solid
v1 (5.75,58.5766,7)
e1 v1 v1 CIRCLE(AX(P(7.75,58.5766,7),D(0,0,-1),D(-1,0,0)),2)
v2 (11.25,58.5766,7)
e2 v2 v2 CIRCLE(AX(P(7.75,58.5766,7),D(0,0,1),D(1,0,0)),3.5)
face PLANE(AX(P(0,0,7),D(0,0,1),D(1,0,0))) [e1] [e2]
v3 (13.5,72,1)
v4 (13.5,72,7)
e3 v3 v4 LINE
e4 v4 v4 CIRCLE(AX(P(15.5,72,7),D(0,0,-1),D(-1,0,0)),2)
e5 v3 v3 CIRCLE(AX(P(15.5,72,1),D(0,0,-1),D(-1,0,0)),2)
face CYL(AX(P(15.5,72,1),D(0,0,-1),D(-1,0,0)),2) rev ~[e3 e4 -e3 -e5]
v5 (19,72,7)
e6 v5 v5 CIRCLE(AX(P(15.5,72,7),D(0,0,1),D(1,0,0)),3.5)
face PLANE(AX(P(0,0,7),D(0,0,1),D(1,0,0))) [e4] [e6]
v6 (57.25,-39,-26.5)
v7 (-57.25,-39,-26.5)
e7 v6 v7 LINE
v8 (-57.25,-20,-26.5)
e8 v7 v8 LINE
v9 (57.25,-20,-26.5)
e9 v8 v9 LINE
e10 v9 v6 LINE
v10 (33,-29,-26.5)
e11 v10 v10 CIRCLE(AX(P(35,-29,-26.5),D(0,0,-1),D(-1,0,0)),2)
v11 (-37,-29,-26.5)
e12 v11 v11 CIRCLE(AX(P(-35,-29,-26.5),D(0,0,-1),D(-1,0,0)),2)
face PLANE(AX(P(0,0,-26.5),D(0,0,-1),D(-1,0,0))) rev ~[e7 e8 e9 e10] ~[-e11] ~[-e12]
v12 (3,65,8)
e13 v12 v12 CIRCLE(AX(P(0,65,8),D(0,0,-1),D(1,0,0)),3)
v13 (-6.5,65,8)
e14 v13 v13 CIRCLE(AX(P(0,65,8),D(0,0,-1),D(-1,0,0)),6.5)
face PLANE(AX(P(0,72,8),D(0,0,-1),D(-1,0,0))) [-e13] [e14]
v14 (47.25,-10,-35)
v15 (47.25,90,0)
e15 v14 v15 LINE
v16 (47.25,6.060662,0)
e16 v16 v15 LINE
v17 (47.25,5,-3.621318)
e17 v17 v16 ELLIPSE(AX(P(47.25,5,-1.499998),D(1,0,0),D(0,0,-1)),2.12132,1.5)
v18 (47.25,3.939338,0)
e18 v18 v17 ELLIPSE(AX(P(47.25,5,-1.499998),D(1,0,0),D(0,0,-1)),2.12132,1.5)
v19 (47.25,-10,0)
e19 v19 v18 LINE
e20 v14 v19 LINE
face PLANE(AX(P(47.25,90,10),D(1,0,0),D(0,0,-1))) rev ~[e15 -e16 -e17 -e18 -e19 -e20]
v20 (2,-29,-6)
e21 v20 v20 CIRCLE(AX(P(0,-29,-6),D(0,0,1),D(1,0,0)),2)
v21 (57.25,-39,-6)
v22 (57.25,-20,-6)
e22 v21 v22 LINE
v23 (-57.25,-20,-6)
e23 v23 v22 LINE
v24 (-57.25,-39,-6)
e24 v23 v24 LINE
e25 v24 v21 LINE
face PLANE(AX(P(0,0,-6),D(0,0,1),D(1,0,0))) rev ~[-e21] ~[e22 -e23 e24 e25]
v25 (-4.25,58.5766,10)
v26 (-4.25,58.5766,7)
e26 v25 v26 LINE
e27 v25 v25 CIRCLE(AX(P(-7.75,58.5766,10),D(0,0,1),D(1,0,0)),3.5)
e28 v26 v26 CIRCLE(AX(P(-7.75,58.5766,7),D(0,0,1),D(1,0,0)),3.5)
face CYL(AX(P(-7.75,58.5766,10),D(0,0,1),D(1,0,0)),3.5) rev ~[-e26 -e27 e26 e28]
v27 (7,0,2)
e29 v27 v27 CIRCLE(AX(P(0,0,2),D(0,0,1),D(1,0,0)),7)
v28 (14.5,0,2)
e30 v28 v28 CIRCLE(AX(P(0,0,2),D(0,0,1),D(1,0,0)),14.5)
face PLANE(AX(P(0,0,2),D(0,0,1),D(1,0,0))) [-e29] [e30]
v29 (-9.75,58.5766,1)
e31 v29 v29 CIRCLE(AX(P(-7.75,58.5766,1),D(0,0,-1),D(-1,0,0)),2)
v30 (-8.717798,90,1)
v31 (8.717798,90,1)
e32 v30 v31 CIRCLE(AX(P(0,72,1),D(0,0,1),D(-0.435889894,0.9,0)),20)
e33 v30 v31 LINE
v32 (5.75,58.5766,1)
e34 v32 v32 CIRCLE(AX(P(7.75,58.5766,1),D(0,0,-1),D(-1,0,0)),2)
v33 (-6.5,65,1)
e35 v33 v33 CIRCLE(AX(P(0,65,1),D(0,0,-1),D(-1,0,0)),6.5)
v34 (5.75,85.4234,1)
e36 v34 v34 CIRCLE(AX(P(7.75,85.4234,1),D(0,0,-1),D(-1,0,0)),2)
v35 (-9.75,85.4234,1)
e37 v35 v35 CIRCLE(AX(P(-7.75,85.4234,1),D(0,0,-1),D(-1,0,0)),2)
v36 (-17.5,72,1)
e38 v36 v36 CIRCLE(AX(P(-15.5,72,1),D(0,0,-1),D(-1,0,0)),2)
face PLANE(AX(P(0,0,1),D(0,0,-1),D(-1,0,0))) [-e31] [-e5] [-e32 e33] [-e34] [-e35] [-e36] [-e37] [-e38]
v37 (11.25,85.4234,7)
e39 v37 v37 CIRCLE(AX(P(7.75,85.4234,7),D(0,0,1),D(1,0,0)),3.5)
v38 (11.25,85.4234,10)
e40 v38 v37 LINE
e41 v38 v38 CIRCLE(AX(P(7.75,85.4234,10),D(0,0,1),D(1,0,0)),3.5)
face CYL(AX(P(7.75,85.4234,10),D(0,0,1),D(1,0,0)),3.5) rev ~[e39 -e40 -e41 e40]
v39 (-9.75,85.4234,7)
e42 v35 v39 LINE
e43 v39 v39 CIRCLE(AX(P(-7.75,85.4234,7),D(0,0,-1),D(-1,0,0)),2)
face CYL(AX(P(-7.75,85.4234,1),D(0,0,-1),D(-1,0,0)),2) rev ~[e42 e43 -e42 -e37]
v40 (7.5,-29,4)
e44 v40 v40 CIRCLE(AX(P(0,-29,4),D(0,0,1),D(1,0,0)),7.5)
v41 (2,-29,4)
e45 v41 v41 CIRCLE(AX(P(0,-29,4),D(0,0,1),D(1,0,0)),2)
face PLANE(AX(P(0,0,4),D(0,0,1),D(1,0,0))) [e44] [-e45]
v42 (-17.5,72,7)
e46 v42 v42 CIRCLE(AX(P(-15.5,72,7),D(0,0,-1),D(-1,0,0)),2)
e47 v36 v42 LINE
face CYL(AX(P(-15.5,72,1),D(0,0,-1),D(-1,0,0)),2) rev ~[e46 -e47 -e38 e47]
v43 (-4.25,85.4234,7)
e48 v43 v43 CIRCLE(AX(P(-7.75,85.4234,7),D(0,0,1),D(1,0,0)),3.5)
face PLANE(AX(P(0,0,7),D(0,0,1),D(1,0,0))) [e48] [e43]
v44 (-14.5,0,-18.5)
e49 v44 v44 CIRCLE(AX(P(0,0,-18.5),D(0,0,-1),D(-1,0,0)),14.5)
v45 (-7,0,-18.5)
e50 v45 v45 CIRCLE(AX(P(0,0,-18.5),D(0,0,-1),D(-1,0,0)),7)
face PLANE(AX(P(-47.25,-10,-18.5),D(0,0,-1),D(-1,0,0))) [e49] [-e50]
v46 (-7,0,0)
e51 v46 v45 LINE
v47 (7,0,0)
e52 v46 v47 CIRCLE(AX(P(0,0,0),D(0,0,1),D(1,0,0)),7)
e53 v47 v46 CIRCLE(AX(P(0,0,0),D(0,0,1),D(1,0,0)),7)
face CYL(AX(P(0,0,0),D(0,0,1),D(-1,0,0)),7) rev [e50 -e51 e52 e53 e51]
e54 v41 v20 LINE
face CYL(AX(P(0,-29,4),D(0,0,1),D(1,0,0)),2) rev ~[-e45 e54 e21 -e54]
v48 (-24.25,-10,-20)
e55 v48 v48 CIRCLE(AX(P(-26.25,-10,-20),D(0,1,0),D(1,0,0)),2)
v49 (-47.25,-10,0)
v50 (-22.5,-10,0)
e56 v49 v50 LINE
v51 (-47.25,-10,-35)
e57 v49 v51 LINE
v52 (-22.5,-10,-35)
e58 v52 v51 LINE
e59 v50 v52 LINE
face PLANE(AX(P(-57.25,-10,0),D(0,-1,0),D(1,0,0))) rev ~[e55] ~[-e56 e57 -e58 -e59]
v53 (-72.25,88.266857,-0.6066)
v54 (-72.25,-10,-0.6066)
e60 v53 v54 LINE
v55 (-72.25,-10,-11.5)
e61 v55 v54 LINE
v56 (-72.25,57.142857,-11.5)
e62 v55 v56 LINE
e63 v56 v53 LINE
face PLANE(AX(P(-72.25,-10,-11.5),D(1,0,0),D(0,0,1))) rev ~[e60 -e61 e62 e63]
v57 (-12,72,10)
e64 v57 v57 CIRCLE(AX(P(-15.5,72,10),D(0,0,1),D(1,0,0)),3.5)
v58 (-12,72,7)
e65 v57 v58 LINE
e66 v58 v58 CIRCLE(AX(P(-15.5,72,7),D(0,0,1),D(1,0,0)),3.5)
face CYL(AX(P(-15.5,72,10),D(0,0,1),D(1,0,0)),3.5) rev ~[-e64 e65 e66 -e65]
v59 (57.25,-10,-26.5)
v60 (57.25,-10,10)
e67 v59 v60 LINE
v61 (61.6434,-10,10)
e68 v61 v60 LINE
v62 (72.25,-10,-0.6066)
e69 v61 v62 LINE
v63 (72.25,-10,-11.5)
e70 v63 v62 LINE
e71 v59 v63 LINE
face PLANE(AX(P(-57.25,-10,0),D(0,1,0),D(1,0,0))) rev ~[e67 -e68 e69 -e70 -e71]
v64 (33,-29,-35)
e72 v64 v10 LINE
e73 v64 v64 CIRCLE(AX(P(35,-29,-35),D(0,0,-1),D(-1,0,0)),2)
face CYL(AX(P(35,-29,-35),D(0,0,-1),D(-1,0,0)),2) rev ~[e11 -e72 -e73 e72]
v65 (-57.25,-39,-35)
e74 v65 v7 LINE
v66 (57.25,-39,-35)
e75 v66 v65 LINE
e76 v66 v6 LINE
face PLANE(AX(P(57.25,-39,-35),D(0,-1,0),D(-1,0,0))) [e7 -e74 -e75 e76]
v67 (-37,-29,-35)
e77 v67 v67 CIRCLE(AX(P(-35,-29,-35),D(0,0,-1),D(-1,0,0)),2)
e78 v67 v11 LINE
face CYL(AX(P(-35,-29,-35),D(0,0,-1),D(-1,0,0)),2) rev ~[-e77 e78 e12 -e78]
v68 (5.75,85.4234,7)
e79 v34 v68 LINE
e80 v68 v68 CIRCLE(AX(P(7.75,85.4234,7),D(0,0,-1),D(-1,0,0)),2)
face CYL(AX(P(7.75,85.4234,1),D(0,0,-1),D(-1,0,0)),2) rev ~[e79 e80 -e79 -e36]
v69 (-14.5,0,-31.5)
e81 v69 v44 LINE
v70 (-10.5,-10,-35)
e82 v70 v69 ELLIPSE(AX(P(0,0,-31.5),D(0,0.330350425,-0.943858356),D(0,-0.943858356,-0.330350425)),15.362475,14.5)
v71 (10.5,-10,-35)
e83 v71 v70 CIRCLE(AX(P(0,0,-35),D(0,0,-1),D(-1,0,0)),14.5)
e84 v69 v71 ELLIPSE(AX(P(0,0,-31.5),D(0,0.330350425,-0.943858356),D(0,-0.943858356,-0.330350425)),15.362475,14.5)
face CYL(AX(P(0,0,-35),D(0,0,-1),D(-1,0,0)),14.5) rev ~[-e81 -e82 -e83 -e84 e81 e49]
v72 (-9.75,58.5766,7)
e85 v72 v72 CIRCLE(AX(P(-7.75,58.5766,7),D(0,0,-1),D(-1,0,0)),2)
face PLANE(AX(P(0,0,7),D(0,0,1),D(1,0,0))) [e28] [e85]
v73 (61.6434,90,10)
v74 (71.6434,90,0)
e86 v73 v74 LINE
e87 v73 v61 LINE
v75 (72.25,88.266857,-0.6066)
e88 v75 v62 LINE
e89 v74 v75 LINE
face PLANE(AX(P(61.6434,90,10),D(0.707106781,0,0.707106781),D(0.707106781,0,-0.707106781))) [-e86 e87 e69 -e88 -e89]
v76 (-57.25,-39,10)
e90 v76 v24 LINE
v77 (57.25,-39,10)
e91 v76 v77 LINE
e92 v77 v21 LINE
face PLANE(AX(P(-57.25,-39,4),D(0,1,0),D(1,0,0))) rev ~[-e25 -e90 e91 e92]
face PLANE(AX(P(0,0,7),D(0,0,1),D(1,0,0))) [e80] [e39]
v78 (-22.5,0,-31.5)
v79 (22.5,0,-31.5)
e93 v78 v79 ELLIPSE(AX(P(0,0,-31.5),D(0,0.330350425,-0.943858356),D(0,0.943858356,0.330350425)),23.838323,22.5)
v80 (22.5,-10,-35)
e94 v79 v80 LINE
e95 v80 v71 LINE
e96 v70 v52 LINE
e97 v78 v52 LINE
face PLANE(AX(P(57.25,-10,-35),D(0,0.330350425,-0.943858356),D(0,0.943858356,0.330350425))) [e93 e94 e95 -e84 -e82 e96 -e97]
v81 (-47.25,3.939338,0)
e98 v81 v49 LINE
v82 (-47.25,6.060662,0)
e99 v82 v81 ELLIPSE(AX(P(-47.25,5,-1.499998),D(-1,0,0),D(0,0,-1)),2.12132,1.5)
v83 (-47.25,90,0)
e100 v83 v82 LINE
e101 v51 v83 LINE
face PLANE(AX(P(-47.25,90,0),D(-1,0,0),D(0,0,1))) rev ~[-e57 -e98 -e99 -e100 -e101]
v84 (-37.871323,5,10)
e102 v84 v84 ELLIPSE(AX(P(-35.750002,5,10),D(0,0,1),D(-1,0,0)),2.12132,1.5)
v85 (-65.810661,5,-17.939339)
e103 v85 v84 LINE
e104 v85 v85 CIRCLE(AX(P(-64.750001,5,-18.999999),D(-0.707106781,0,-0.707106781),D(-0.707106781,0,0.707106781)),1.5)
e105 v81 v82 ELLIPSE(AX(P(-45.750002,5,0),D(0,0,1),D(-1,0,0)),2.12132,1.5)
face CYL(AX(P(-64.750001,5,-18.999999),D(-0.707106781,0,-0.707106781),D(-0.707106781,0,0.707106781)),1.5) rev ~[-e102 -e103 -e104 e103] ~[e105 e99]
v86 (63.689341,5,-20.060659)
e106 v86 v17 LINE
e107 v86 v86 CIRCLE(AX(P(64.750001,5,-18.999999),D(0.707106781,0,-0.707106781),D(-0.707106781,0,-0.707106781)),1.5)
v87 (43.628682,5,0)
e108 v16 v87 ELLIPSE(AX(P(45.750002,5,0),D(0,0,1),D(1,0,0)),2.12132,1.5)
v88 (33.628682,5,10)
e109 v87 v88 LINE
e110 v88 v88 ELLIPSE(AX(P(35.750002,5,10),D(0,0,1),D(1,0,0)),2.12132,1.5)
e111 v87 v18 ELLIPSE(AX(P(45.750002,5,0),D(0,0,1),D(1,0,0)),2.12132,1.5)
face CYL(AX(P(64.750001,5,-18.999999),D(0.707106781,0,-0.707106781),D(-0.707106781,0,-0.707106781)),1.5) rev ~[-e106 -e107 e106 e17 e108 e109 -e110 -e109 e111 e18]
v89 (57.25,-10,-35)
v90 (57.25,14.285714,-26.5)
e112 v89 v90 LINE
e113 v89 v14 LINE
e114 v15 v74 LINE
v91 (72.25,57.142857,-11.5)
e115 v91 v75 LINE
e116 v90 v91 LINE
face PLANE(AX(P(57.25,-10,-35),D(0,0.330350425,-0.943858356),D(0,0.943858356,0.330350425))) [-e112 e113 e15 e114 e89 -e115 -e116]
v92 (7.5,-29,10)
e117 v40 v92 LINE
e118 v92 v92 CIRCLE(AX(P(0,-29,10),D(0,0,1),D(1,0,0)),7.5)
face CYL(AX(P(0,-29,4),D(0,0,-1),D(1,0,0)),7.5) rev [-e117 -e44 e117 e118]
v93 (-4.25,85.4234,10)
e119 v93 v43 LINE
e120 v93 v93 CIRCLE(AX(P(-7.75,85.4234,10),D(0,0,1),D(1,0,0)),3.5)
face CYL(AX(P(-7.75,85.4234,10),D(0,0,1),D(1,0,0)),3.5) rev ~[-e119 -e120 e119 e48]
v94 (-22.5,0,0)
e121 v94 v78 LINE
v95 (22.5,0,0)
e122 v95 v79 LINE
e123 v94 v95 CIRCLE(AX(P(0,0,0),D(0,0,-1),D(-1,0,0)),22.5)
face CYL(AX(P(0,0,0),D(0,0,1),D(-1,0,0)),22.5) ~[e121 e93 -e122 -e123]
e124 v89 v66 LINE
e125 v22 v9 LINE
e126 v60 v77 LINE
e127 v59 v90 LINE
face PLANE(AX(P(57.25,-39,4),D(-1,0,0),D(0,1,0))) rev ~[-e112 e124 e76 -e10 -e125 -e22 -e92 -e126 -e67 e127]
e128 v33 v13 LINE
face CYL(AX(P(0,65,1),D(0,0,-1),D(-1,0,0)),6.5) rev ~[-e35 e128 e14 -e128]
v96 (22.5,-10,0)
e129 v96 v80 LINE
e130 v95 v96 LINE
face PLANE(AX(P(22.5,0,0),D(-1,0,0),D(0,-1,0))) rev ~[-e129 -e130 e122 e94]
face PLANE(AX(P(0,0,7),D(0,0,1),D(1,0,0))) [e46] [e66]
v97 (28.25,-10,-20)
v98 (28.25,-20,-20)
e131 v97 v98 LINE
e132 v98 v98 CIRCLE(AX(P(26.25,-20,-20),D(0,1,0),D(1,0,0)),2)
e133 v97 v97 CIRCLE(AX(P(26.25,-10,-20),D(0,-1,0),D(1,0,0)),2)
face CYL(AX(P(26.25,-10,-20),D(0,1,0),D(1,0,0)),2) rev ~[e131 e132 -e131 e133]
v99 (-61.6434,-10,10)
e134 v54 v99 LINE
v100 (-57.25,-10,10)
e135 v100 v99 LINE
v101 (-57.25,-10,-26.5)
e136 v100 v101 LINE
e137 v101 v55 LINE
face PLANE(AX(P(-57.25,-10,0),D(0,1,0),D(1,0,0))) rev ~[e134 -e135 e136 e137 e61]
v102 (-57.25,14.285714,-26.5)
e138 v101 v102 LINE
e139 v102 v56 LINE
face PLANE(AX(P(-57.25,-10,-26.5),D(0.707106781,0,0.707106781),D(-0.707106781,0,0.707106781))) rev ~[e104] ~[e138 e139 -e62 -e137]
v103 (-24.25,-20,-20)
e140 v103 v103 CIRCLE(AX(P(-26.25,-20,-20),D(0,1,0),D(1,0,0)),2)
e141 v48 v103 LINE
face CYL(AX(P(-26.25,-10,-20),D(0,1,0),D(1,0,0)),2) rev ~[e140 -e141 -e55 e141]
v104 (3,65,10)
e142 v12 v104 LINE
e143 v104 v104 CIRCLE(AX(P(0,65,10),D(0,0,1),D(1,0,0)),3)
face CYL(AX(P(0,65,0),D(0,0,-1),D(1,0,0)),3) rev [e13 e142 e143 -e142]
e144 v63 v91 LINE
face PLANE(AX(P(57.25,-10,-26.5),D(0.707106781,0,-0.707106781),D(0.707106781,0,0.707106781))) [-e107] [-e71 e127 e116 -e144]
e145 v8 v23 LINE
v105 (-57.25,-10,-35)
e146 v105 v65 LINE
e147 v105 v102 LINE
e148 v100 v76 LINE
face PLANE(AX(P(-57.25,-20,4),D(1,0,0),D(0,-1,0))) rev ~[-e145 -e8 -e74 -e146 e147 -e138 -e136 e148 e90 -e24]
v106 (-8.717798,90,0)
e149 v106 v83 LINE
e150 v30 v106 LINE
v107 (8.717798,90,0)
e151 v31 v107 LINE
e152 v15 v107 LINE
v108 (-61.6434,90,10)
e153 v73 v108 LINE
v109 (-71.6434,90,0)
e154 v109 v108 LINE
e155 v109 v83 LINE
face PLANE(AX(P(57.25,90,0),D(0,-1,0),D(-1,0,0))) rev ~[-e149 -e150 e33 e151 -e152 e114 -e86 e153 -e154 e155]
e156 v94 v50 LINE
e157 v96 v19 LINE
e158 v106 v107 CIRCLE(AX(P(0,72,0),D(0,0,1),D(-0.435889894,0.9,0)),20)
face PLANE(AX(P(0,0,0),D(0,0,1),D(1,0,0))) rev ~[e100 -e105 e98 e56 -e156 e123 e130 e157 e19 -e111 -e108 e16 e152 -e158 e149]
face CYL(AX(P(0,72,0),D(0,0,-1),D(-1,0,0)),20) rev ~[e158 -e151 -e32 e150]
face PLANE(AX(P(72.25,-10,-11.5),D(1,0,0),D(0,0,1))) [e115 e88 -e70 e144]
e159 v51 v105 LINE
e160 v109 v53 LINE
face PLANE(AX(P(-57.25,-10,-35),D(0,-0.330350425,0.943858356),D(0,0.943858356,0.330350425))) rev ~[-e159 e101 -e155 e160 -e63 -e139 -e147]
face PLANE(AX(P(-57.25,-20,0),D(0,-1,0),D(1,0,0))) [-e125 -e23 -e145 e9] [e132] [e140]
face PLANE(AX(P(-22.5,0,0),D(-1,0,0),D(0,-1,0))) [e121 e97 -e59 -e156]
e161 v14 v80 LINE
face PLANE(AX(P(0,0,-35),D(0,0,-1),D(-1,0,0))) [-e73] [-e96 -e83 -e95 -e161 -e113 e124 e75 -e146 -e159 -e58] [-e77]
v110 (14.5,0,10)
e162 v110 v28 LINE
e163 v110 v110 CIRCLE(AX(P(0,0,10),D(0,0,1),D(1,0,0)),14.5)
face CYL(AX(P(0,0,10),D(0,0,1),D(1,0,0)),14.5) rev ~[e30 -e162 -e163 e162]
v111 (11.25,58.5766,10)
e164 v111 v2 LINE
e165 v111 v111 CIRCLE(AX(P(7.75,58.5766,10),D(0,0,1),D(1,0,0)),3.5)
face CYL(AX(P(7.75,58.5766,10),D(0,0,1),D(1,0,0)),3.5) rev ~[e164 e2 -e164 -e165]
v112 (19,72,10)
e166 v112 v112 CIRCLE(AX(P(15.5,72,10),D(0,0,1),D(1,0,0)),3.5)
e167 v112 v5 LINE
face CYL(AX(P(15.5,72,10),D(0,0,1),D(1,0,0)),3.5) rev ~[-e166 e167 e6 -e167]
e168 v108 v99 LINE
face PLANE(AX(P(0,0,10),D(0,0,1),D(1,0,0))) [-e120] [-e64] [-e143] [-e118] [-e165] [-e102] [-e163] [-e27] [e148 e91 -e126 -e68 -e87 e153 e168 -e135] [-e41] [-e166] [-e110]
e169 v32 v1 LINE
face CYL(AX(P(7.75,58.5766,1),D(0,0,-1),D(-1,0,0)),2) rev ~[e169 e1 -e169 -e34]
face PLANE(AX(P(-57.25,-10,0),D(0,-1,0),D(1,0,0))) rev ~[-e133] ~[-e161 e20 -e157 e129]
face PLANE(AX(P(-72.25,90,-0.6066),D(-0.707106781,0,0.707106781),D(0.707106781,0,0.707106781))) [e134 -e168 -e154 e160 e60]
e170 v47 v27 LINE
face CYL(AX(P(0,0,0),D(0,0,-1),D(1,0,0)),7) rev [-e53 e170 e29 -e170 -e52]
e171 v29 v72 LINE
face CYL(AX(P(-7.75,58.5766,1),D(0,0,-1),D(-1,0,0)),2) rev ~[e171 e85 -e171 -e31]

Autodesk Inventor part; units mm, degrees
ref_plane "YZ Plane" through (0, 0, 0) normal (1, 0, 0) x (0, 1, 0)
ref_plane "XZ Plane" through (0, 0, 0) normal (0, 1, 0) x (-1, 0, 0)
sketch "Sketch1" plane through (0, 0, 0) normal (0, 0, 1) x (1, 0, 0)
  circle A0 centre (0, 0) radius 7
  circle A1 centre (0, 65) radius 3
  line L0 (-57.25, -10) -> (57.25, -10)
  line L1 (57.25, -10) -> (57.25, 90)
  line L2 (57.25, 90) -> (-57.25, 90)
  line L3 (-57.25, 90) -> (-57.25, -10)
  line L4 (0, 65) -> (0, 0) construction
  point P0 (0, 32.5)
  point P1 (-57.25, 40)
  point P2 (0, 90)
  dimension "d0" = 14
  dimension "d1" = 6
  dimension "d2" = 65
  dimension "d3" = 114.5
  dimension "d7" = 25
  dimension "d8" = 10
extrude "Extrusion1" add sketch "Sketch1" along normal blind 10
sketch "Sketch2" plane through (-57.25, -10, 0) normal (0, -1, 0) x (1, 0, 0)
  line L0 (0, 10) -> (114.5, 10) projected
  line L1 (0, 10) -> (114.5, 10)
  line L2 (114.5, 10) -> (114.5, -35)
  line L3 (114.5, -35) -> (0, -35)
  line L4 (0, -35) -> (0, 10)
  point P0 (57.25, 0)
  point P1 (114.5, 0)
  dimension "d10" = 45
extrude "Extrusion2" add sketch "Sketch2" along normal blind 10
sketch "Sketch3" plane through (0, 0, 0) normal (0, 0, -1) x (-1, 0, 0)
  circle A0 centre (0, 0) radius 22.5 construction
  circle A1 centre (0, 0) radius 7 projected
  line L0 (-22.5, 0) -> (-22.5, -10)
  line L1 (57.25, -10) -> (-57.25, -10) construction
  line L2 (22.5, 0) -> (22.5, -10)
  arc A2 (22.5, 0) -> (-22.5, 0) centre (0, 0) ccw
  line L3 (-22.5, -10) -> (22.5, -10)
  dimension "d13" = 45
extrude "Extrusion3" add sketch "Sketch3" along normal blind 35
sketch "Sketch4" plane through (-57.25, 90, 0) normal (-1, 0, 0) x (0, 0, 1)
  line L0 (-35, -100) -> (0, -100) projected
  line L1 (-35, -100) -> (0, 0)
  line L2 (0, 0) -> (10, 0) projected
  line L3 (0, 0) -> (10, 0)
  line L4 (10, 0) -> (10, -110) projected
  line L5 (10, 0) -> (10, -110)
  line L6 (10, -110) -> (-35, -110) projected
  line L7 (10, -110) -> (-35, -110)
  line L8 (-35, -100) -> (-35, -110) projected
  line L9 (-35, -110) -> (-35, -100)
extrude "Extrusion4" add sketch "Sketch4" against normal blind 10
sketch "Sketch5" plane through (57.25, 90, 10) normal (1, 0, 0) x (0, 0, -1)
  line L0 (45, -100) -> (10, 0) projected
  line L1 (10, -100) -> (10, 0) projected
  line L2 (45, -100) -> (10, -100) projected
  point P0 (0, -110)
extrude "Extrusion5" add sketch "Sketch5" against normal blind 10
sketch "Sketch9" plane through (0, 0, 0) normal (0, 0, -1) x (-1, 0, 0)
  circle A0 centre (0, 72) radius 20
  circle A1 centre (0, 65) radius 3 projected
  point P0 (0, 0)
  dimension "d28" = 40
  dimension "d95" = 7
extrude "Extrusion8" cut sketch "Sketch9" against normal blind 1 contours A0 | A1
sketch "Sketch10" plane through (-57.25, -10, 0) normal (0, 1, 0) x (1, 0, 0)
  circle A0 centre (83.5, 20) radius 2
  line L0 (0, 0) -> (0, 35) projected
  circle A1 centre (31, 20) radius 2
  line L1 (34.75, 35) -> (79.75, 35) projected
  line L2 (34.75, 35) -> (79.75, 35) projected
  line L3 (83.5, 20) -> (31, 20)
  line L4 (79.75, 35) -> (34.75, 35) projected
  point P0 (57.25, 0)
  point P1 (114.5, 35)
  point P2 (57.25, 20)
  point P3 (57.25, 35)
  dimension "d31" = 4
  dimension "d33" = 4
  dimension "d55" = 15
  dimension "d57" = 52.5
extrude "Extrusion9" cut sketch "Sketch10" against normal through all
sketch "Sketch11" plane through (0, 0, -35) normal (0, 0, -1) x (-1, 0, 0)
  line L0 (57.25, -20) -> (-57.25, -20)
  line L1 (-57.25, -20) -> (-57.25, -39)
  line L2 (-57.25, -39) -> (57.25, -39)
  line L3 (57.25, -39) -> (57.25, -20)
  point P0 (0, 0)
  point P1 (57.25, -20)
  point P2 (-57.25, -20)
  point P3 (0, -20)
  dimension "d36" = 19
extrude "Extrusion10" add sketch "Sketch11" against normal blind 8.5
sketch "Sketch12" plane through (0, 0, -35) normal (0, 0, -1) x (-1, 0, 0)
  circle A0 centre (-35, -29) radius 2
  circle A1 centre (35, -29) radius 2
  line L0 (-35, -29) -> (35, -29) construction
  line L1 (-57.25, -39) -> (57.25, -39) projected
  point P0 (0, 0)
  point P1 (0, -29)
  point P2 (0, -39)
  dimension "d39" = 4
  dimension "d40" = 4
  dimension "d41" = 70
  dimension "d42" = 10
extrude "Extrusion11" cut sketch "Sketch12" against normal through all
ref_plane "Work Plane1" through (0, 0, -6) normal (0, 0, 1) x (1, 0, 0)
sketch "Sketch14" plane through (0, 0, -6) normal (0, 0, 1) x (1, 0, 0)
  circle A0 centre (35, -29) radius 2 projected
  circle A1 centre (-35, -29) radius 2 projected
  line L0 (-57.25, -20) -> (57.25, -20) projected
  line L1 (-57.25, -20) -> (-57.25, -39) projected
  line L2 (-57.25, -39) -> (57.25, -39) projected
  line L3 (57.25, -39) -> (57.25, -20) projected
  point P0 (0, 0)
extrude "Extrusion12" add sketch "Sketch14" along normal blind 10 contours A0 | A1 | L0 L3 L2 L1
sketch "Sketch15" plane through (0, 0, 4) normal (0, 0, 1) x (1, 0, 0)
  circle A0 centre (0, -29) radius 2
  line L0 (-57.25, -39) -> (57.25, -39) projected
  point P0 (0, 0)
  point P1 (0, -39)
  dimension "d48" = 4
  dimension "d49" = 10
extrude "Extrusion13" cut sketch "Sketch15" against normal blind 10
sketch "Sketch16" plane through (0, 0, 4) normal (0, 0, 1) x (1, 0, 0)
  circle A0 centre (0, -29) radius 2 projected
  line L0 (-57.25, -20) -> (57.25, -20) projected
  line L1 (-57.25, -20) -> (-57.25, -39) projected
  line L2 (-57.25, -39) -> (57.25, -39) projected
  line L3 (57.25, -39) -> (57.25, -20) projected
  circle A1 centre (0, -29) radius 2 projected
  circle A2 centre (0, -29) radius 7.5
  point P0 (0, 0)
  dimension "d52" = 15
extrude "Extrusion14" add sketch "Sketch16" along normal blind 6 contours L0 L3 L2 L1
sketch "Sketch17" plane through (-57.25, -10, 0) normal (0, 1, 0) x (1, 0, 0)
  line L0 (114.5, 6) -> (0, 6) projected
  line L1 (0, 6) -> (0, 26.5) projected
  line L2 (0, 26.5) -> (114.5, 26.5) projected
  line L3 (114.5, 26.5) -> (114.5, 6) projected
  circle A0 centre (83.5, 20) radius 2 projected
  circle A1 centre (31, 20) radius 2 projected
  line L4 (0, 6) -> (0, 26.5) projected
  line L5 (0, 26.5) -> (-36.5, -10) construction
  line L6 (0, 26.5) -> (51.6188, 26.5) construction
  line L7 (114.5, -10) -> (0, -10) projected
  line L8 (0, -10) -> (-36.5, -10) construction
  line L9 (0, 26.5) -> (0, -10)
  line L10 (114.5, 26.5) -> (114.5, 6) projected
  line L11 (114.5, 26.5) -> (151, -10) construction
  line L12 (114.5, -10) -> (151, -10) construction
  line L13 (114.5, -10) -> (114.5, 26.5)
  line L14 (129.5, 11.5) -> (129.5, -10)
  line L15 (114.5, 26.5) -> (129.5, 11.5)
  line L16 (129.5, -10) -> (114.5, -10)
  line L17 (-15, 11.5) -> (-15, -10)
  line L18 (0, 35) -> (0, 26.5) projected
  line L19 (0, 26.5) -> (-15, 11.5)
  line L20 (0, -10) -> (-15, -10)
  point P0 (57.25, 0)
  dimension "d58" = 135
  dimension "d60" = 135
  dimension "d65" = 15
  dimension "d66" = 15
extrude "Extrusion15" add sketch "Sketch17" along normal blind 100 contours L3 L15 L14 L16 L13 | L9 L20 L17 L19 L1
sketch "Sketch18" plane through (57.25, 14.2857, -26.5) normal (-1, 0, 0) x (0, 0, 1)
  line L0 (26.5, 75.7143) -> (-8.5, -24.2857) construction
  line L1 (26.5, -24.2857) -> (-8.5, -24.2857) construction
  line L2 (26.5, 75.7143) -> (26.5, -24.2857) construction
  line L3 (-8.5, -24.2857) -> (-8.5, 75.7143)
  line L4 (-8.5, 75.7143) -> (26.5, 75.7143)
  line L5 (-8.5, -24.2857) -> (26.5, 75.7143)
extrude "Extrusion16" cut sketch "Sketch18" along normal through all both and the other way through all
sketch "Sketch19" plane through (-72.25, -10, -11.5) normal (-0.7071, 0, -0.7071) x (-0.7071, 0, 0.7071)
  circle A0 centre (-10.6066, 15) radius 1.5
  line L0 (-21.2132, 0) -> (0, 0) projected
  point P0 (-42.9567, 10)
  point P1 (-10.6066, 0)
  dimension "d67" = 3
  dimension "d68" = 15
extrude "Extrusion17" cut sketch "Sketch19" against normal through all
sketch "Sketch20" plane through (72.25, -10, -11.5) normal (0.7071, 0, -0.7071) x (-0.7071, 0, -0.7071)
  circle A0 centre (10.6066, 15) radius 1.5
  line L0 (0, 0) -> (21.2132, 0) projected
  point P0 (42.9567, 10)
  point P1 (10.6066, 0)
  dimension "d71" = 3
  dimension "d72" = 15
extrude "Extrusion18" cut sketch "Sketch20" against normal through all
sketch "Sketch21" plane through (-47.25, 90, 0) normal (0, 1, 0) x (1, 0, 0)
  line L0 (-25, -10) -> (-10, -10) projected
  line L1 (-25, -10) -> (-19.6967, -4.6967) construction
  line L2 (-25, -10) -> (-17.5, -10) construction
  line L3 (-25, 11.5) -> (-25, -10) projected
  line L4 (-25, 0.6066) -> (-14.3934, -10)
  line L5 (-25, 0.6066) -> (-25, -10)
  line L6 (-14.3934, -10) -> (-25, -10)
  line L7 (-25, -10) -> (119.5, -10) projected
  line L8 (119.5, -10) -> (114.1967, -4.6967) construction
  line L9 (119.5, -10) -> (127, -10) construction
  line L10 (108.8934, -10) -> (119.5, 0.6066)
  line L11 (119.5, -10) -> (119.5, 11.5) projected
  line L12 (108.8934, -10) -> (123.8934, -10) construction
  line L13 (108.8934, -10) -> (119.5, -10)
  line L14 (119.5, -10) -> (119.5, 0.6066)
  point P0 (47.25, 0)
  dimension "d75" = 7.5
  dimension "d76" = 45
  dimension "d77" = 7.5
  dimension "d78" = 135
  dimension "d79" = 45
extrude "Extrusion19" cut sketch "Sketch21" against normal through all
sketch "Sketch22" plane through (0, 0, 10) normal (0, 0, 1) x (1, 0, 0)
  circle A0 centre (0, 0) radius 14.5
  circle A1 centre (0, 0) radius 7 projected
  dimension "d82" = 29
extrude "Extrusion20" cut sketch "Sketch22" against normal blind 8
sketch "Sketch23" plane through (-47.25, -10, -35) normal (0, 0, -1) x (-1, 0, 0)
  circle A0 centre (-47.25, 10) radius 7 projected
  circle A1 centre (-47.25, 10) radius 14.5
  dimension "d85" = 29
extrude "Extrusion21" cut sketch "Sketch23" against normal blind 16.5
sketch "Sketch24" plane through (0, 72, 1) normal (0, 0, -1) x (-1, 0, 0)
  circle A0 centre (0, -7) radius 3 projected
  circle A1 centre (0, -7) radius 6.5
  point P0 (0, -72)
  dimension "d88" = 13
extrude "Extrusion22" cut sketch "Sketch24" against normal blind 7
sketch "Sketch27" plane through (0, 0, 1) normal (0, 0, -1) x (-1, 0, 0)
  arc A0 (-8.7178, 90) -> (8.7178, 90) centre (0, 72) ccw construction
  circle A1 centre (15.5, 72) radius 2
  circle A2 centre (7.75, 85.4234) radius 2
  circle A3 centre (-7.75, 85.4234) radius 2
  circle A4 centre (-15.5, 72) radius 2
  circle A5 centre (-7.75, 58.5766) radius 2
  circle A6 centre (7.75, 58.5766) radius 2
  point P0 (0, 0)
  dimension "d96" = 4
  dimension "d97" = 15.5
  dimension "d100" = 360
extrude "Extrusion24" cut sketch "Sketch27" against normal blind 10
sketch "Sketch28" plane through (0, 0, 10) normal (0, 0, 1) x (1, 0, 0)
  circle A0 centre (-7.75, 85.4234) radius 2 projected
  circle A1 centre (7.75, 85.4234) radius 2 projected
  circle A2 centre (15.5, 72) radius 2 projected
  circle A3 centre (7.75, 58.5766) radius 2 projected
  circle A4 centre (-7.75, 58.5766) radius 2 projected
  circle A5 centre (-15.5, 72) radius 2 projected
  circle A6 centre (15.5, 72) radius 3.5
  arc A7 (-8.7178, 90) -> (8.7178, 90) centre (0, 72) ccw construction
  circle A8 centre (7.75, 85.4234) radius 3.5
  circle A9 centre (-7.75, 85.4234) radius 3.5
  circle A10 centre (-15.5, 72) radius 3.5
  circle A11 centre (-7.75, 58.5766) radius 3.5
  circle A12 centre (7.75, 58.5766) radius 3.5
  point P0 (0, 0)
  dimension "d104" = 7
  dimension "d107" = 360
extrude "Extrusion25" cut sketch "Sketch28" against normal blind 3 contours A0 | A1 | A2 | A3 | A4 | A5 | A6 | A8 | A9 | A10 | A11 | A12
properties part number "WA004" material "ABS Plastic"
